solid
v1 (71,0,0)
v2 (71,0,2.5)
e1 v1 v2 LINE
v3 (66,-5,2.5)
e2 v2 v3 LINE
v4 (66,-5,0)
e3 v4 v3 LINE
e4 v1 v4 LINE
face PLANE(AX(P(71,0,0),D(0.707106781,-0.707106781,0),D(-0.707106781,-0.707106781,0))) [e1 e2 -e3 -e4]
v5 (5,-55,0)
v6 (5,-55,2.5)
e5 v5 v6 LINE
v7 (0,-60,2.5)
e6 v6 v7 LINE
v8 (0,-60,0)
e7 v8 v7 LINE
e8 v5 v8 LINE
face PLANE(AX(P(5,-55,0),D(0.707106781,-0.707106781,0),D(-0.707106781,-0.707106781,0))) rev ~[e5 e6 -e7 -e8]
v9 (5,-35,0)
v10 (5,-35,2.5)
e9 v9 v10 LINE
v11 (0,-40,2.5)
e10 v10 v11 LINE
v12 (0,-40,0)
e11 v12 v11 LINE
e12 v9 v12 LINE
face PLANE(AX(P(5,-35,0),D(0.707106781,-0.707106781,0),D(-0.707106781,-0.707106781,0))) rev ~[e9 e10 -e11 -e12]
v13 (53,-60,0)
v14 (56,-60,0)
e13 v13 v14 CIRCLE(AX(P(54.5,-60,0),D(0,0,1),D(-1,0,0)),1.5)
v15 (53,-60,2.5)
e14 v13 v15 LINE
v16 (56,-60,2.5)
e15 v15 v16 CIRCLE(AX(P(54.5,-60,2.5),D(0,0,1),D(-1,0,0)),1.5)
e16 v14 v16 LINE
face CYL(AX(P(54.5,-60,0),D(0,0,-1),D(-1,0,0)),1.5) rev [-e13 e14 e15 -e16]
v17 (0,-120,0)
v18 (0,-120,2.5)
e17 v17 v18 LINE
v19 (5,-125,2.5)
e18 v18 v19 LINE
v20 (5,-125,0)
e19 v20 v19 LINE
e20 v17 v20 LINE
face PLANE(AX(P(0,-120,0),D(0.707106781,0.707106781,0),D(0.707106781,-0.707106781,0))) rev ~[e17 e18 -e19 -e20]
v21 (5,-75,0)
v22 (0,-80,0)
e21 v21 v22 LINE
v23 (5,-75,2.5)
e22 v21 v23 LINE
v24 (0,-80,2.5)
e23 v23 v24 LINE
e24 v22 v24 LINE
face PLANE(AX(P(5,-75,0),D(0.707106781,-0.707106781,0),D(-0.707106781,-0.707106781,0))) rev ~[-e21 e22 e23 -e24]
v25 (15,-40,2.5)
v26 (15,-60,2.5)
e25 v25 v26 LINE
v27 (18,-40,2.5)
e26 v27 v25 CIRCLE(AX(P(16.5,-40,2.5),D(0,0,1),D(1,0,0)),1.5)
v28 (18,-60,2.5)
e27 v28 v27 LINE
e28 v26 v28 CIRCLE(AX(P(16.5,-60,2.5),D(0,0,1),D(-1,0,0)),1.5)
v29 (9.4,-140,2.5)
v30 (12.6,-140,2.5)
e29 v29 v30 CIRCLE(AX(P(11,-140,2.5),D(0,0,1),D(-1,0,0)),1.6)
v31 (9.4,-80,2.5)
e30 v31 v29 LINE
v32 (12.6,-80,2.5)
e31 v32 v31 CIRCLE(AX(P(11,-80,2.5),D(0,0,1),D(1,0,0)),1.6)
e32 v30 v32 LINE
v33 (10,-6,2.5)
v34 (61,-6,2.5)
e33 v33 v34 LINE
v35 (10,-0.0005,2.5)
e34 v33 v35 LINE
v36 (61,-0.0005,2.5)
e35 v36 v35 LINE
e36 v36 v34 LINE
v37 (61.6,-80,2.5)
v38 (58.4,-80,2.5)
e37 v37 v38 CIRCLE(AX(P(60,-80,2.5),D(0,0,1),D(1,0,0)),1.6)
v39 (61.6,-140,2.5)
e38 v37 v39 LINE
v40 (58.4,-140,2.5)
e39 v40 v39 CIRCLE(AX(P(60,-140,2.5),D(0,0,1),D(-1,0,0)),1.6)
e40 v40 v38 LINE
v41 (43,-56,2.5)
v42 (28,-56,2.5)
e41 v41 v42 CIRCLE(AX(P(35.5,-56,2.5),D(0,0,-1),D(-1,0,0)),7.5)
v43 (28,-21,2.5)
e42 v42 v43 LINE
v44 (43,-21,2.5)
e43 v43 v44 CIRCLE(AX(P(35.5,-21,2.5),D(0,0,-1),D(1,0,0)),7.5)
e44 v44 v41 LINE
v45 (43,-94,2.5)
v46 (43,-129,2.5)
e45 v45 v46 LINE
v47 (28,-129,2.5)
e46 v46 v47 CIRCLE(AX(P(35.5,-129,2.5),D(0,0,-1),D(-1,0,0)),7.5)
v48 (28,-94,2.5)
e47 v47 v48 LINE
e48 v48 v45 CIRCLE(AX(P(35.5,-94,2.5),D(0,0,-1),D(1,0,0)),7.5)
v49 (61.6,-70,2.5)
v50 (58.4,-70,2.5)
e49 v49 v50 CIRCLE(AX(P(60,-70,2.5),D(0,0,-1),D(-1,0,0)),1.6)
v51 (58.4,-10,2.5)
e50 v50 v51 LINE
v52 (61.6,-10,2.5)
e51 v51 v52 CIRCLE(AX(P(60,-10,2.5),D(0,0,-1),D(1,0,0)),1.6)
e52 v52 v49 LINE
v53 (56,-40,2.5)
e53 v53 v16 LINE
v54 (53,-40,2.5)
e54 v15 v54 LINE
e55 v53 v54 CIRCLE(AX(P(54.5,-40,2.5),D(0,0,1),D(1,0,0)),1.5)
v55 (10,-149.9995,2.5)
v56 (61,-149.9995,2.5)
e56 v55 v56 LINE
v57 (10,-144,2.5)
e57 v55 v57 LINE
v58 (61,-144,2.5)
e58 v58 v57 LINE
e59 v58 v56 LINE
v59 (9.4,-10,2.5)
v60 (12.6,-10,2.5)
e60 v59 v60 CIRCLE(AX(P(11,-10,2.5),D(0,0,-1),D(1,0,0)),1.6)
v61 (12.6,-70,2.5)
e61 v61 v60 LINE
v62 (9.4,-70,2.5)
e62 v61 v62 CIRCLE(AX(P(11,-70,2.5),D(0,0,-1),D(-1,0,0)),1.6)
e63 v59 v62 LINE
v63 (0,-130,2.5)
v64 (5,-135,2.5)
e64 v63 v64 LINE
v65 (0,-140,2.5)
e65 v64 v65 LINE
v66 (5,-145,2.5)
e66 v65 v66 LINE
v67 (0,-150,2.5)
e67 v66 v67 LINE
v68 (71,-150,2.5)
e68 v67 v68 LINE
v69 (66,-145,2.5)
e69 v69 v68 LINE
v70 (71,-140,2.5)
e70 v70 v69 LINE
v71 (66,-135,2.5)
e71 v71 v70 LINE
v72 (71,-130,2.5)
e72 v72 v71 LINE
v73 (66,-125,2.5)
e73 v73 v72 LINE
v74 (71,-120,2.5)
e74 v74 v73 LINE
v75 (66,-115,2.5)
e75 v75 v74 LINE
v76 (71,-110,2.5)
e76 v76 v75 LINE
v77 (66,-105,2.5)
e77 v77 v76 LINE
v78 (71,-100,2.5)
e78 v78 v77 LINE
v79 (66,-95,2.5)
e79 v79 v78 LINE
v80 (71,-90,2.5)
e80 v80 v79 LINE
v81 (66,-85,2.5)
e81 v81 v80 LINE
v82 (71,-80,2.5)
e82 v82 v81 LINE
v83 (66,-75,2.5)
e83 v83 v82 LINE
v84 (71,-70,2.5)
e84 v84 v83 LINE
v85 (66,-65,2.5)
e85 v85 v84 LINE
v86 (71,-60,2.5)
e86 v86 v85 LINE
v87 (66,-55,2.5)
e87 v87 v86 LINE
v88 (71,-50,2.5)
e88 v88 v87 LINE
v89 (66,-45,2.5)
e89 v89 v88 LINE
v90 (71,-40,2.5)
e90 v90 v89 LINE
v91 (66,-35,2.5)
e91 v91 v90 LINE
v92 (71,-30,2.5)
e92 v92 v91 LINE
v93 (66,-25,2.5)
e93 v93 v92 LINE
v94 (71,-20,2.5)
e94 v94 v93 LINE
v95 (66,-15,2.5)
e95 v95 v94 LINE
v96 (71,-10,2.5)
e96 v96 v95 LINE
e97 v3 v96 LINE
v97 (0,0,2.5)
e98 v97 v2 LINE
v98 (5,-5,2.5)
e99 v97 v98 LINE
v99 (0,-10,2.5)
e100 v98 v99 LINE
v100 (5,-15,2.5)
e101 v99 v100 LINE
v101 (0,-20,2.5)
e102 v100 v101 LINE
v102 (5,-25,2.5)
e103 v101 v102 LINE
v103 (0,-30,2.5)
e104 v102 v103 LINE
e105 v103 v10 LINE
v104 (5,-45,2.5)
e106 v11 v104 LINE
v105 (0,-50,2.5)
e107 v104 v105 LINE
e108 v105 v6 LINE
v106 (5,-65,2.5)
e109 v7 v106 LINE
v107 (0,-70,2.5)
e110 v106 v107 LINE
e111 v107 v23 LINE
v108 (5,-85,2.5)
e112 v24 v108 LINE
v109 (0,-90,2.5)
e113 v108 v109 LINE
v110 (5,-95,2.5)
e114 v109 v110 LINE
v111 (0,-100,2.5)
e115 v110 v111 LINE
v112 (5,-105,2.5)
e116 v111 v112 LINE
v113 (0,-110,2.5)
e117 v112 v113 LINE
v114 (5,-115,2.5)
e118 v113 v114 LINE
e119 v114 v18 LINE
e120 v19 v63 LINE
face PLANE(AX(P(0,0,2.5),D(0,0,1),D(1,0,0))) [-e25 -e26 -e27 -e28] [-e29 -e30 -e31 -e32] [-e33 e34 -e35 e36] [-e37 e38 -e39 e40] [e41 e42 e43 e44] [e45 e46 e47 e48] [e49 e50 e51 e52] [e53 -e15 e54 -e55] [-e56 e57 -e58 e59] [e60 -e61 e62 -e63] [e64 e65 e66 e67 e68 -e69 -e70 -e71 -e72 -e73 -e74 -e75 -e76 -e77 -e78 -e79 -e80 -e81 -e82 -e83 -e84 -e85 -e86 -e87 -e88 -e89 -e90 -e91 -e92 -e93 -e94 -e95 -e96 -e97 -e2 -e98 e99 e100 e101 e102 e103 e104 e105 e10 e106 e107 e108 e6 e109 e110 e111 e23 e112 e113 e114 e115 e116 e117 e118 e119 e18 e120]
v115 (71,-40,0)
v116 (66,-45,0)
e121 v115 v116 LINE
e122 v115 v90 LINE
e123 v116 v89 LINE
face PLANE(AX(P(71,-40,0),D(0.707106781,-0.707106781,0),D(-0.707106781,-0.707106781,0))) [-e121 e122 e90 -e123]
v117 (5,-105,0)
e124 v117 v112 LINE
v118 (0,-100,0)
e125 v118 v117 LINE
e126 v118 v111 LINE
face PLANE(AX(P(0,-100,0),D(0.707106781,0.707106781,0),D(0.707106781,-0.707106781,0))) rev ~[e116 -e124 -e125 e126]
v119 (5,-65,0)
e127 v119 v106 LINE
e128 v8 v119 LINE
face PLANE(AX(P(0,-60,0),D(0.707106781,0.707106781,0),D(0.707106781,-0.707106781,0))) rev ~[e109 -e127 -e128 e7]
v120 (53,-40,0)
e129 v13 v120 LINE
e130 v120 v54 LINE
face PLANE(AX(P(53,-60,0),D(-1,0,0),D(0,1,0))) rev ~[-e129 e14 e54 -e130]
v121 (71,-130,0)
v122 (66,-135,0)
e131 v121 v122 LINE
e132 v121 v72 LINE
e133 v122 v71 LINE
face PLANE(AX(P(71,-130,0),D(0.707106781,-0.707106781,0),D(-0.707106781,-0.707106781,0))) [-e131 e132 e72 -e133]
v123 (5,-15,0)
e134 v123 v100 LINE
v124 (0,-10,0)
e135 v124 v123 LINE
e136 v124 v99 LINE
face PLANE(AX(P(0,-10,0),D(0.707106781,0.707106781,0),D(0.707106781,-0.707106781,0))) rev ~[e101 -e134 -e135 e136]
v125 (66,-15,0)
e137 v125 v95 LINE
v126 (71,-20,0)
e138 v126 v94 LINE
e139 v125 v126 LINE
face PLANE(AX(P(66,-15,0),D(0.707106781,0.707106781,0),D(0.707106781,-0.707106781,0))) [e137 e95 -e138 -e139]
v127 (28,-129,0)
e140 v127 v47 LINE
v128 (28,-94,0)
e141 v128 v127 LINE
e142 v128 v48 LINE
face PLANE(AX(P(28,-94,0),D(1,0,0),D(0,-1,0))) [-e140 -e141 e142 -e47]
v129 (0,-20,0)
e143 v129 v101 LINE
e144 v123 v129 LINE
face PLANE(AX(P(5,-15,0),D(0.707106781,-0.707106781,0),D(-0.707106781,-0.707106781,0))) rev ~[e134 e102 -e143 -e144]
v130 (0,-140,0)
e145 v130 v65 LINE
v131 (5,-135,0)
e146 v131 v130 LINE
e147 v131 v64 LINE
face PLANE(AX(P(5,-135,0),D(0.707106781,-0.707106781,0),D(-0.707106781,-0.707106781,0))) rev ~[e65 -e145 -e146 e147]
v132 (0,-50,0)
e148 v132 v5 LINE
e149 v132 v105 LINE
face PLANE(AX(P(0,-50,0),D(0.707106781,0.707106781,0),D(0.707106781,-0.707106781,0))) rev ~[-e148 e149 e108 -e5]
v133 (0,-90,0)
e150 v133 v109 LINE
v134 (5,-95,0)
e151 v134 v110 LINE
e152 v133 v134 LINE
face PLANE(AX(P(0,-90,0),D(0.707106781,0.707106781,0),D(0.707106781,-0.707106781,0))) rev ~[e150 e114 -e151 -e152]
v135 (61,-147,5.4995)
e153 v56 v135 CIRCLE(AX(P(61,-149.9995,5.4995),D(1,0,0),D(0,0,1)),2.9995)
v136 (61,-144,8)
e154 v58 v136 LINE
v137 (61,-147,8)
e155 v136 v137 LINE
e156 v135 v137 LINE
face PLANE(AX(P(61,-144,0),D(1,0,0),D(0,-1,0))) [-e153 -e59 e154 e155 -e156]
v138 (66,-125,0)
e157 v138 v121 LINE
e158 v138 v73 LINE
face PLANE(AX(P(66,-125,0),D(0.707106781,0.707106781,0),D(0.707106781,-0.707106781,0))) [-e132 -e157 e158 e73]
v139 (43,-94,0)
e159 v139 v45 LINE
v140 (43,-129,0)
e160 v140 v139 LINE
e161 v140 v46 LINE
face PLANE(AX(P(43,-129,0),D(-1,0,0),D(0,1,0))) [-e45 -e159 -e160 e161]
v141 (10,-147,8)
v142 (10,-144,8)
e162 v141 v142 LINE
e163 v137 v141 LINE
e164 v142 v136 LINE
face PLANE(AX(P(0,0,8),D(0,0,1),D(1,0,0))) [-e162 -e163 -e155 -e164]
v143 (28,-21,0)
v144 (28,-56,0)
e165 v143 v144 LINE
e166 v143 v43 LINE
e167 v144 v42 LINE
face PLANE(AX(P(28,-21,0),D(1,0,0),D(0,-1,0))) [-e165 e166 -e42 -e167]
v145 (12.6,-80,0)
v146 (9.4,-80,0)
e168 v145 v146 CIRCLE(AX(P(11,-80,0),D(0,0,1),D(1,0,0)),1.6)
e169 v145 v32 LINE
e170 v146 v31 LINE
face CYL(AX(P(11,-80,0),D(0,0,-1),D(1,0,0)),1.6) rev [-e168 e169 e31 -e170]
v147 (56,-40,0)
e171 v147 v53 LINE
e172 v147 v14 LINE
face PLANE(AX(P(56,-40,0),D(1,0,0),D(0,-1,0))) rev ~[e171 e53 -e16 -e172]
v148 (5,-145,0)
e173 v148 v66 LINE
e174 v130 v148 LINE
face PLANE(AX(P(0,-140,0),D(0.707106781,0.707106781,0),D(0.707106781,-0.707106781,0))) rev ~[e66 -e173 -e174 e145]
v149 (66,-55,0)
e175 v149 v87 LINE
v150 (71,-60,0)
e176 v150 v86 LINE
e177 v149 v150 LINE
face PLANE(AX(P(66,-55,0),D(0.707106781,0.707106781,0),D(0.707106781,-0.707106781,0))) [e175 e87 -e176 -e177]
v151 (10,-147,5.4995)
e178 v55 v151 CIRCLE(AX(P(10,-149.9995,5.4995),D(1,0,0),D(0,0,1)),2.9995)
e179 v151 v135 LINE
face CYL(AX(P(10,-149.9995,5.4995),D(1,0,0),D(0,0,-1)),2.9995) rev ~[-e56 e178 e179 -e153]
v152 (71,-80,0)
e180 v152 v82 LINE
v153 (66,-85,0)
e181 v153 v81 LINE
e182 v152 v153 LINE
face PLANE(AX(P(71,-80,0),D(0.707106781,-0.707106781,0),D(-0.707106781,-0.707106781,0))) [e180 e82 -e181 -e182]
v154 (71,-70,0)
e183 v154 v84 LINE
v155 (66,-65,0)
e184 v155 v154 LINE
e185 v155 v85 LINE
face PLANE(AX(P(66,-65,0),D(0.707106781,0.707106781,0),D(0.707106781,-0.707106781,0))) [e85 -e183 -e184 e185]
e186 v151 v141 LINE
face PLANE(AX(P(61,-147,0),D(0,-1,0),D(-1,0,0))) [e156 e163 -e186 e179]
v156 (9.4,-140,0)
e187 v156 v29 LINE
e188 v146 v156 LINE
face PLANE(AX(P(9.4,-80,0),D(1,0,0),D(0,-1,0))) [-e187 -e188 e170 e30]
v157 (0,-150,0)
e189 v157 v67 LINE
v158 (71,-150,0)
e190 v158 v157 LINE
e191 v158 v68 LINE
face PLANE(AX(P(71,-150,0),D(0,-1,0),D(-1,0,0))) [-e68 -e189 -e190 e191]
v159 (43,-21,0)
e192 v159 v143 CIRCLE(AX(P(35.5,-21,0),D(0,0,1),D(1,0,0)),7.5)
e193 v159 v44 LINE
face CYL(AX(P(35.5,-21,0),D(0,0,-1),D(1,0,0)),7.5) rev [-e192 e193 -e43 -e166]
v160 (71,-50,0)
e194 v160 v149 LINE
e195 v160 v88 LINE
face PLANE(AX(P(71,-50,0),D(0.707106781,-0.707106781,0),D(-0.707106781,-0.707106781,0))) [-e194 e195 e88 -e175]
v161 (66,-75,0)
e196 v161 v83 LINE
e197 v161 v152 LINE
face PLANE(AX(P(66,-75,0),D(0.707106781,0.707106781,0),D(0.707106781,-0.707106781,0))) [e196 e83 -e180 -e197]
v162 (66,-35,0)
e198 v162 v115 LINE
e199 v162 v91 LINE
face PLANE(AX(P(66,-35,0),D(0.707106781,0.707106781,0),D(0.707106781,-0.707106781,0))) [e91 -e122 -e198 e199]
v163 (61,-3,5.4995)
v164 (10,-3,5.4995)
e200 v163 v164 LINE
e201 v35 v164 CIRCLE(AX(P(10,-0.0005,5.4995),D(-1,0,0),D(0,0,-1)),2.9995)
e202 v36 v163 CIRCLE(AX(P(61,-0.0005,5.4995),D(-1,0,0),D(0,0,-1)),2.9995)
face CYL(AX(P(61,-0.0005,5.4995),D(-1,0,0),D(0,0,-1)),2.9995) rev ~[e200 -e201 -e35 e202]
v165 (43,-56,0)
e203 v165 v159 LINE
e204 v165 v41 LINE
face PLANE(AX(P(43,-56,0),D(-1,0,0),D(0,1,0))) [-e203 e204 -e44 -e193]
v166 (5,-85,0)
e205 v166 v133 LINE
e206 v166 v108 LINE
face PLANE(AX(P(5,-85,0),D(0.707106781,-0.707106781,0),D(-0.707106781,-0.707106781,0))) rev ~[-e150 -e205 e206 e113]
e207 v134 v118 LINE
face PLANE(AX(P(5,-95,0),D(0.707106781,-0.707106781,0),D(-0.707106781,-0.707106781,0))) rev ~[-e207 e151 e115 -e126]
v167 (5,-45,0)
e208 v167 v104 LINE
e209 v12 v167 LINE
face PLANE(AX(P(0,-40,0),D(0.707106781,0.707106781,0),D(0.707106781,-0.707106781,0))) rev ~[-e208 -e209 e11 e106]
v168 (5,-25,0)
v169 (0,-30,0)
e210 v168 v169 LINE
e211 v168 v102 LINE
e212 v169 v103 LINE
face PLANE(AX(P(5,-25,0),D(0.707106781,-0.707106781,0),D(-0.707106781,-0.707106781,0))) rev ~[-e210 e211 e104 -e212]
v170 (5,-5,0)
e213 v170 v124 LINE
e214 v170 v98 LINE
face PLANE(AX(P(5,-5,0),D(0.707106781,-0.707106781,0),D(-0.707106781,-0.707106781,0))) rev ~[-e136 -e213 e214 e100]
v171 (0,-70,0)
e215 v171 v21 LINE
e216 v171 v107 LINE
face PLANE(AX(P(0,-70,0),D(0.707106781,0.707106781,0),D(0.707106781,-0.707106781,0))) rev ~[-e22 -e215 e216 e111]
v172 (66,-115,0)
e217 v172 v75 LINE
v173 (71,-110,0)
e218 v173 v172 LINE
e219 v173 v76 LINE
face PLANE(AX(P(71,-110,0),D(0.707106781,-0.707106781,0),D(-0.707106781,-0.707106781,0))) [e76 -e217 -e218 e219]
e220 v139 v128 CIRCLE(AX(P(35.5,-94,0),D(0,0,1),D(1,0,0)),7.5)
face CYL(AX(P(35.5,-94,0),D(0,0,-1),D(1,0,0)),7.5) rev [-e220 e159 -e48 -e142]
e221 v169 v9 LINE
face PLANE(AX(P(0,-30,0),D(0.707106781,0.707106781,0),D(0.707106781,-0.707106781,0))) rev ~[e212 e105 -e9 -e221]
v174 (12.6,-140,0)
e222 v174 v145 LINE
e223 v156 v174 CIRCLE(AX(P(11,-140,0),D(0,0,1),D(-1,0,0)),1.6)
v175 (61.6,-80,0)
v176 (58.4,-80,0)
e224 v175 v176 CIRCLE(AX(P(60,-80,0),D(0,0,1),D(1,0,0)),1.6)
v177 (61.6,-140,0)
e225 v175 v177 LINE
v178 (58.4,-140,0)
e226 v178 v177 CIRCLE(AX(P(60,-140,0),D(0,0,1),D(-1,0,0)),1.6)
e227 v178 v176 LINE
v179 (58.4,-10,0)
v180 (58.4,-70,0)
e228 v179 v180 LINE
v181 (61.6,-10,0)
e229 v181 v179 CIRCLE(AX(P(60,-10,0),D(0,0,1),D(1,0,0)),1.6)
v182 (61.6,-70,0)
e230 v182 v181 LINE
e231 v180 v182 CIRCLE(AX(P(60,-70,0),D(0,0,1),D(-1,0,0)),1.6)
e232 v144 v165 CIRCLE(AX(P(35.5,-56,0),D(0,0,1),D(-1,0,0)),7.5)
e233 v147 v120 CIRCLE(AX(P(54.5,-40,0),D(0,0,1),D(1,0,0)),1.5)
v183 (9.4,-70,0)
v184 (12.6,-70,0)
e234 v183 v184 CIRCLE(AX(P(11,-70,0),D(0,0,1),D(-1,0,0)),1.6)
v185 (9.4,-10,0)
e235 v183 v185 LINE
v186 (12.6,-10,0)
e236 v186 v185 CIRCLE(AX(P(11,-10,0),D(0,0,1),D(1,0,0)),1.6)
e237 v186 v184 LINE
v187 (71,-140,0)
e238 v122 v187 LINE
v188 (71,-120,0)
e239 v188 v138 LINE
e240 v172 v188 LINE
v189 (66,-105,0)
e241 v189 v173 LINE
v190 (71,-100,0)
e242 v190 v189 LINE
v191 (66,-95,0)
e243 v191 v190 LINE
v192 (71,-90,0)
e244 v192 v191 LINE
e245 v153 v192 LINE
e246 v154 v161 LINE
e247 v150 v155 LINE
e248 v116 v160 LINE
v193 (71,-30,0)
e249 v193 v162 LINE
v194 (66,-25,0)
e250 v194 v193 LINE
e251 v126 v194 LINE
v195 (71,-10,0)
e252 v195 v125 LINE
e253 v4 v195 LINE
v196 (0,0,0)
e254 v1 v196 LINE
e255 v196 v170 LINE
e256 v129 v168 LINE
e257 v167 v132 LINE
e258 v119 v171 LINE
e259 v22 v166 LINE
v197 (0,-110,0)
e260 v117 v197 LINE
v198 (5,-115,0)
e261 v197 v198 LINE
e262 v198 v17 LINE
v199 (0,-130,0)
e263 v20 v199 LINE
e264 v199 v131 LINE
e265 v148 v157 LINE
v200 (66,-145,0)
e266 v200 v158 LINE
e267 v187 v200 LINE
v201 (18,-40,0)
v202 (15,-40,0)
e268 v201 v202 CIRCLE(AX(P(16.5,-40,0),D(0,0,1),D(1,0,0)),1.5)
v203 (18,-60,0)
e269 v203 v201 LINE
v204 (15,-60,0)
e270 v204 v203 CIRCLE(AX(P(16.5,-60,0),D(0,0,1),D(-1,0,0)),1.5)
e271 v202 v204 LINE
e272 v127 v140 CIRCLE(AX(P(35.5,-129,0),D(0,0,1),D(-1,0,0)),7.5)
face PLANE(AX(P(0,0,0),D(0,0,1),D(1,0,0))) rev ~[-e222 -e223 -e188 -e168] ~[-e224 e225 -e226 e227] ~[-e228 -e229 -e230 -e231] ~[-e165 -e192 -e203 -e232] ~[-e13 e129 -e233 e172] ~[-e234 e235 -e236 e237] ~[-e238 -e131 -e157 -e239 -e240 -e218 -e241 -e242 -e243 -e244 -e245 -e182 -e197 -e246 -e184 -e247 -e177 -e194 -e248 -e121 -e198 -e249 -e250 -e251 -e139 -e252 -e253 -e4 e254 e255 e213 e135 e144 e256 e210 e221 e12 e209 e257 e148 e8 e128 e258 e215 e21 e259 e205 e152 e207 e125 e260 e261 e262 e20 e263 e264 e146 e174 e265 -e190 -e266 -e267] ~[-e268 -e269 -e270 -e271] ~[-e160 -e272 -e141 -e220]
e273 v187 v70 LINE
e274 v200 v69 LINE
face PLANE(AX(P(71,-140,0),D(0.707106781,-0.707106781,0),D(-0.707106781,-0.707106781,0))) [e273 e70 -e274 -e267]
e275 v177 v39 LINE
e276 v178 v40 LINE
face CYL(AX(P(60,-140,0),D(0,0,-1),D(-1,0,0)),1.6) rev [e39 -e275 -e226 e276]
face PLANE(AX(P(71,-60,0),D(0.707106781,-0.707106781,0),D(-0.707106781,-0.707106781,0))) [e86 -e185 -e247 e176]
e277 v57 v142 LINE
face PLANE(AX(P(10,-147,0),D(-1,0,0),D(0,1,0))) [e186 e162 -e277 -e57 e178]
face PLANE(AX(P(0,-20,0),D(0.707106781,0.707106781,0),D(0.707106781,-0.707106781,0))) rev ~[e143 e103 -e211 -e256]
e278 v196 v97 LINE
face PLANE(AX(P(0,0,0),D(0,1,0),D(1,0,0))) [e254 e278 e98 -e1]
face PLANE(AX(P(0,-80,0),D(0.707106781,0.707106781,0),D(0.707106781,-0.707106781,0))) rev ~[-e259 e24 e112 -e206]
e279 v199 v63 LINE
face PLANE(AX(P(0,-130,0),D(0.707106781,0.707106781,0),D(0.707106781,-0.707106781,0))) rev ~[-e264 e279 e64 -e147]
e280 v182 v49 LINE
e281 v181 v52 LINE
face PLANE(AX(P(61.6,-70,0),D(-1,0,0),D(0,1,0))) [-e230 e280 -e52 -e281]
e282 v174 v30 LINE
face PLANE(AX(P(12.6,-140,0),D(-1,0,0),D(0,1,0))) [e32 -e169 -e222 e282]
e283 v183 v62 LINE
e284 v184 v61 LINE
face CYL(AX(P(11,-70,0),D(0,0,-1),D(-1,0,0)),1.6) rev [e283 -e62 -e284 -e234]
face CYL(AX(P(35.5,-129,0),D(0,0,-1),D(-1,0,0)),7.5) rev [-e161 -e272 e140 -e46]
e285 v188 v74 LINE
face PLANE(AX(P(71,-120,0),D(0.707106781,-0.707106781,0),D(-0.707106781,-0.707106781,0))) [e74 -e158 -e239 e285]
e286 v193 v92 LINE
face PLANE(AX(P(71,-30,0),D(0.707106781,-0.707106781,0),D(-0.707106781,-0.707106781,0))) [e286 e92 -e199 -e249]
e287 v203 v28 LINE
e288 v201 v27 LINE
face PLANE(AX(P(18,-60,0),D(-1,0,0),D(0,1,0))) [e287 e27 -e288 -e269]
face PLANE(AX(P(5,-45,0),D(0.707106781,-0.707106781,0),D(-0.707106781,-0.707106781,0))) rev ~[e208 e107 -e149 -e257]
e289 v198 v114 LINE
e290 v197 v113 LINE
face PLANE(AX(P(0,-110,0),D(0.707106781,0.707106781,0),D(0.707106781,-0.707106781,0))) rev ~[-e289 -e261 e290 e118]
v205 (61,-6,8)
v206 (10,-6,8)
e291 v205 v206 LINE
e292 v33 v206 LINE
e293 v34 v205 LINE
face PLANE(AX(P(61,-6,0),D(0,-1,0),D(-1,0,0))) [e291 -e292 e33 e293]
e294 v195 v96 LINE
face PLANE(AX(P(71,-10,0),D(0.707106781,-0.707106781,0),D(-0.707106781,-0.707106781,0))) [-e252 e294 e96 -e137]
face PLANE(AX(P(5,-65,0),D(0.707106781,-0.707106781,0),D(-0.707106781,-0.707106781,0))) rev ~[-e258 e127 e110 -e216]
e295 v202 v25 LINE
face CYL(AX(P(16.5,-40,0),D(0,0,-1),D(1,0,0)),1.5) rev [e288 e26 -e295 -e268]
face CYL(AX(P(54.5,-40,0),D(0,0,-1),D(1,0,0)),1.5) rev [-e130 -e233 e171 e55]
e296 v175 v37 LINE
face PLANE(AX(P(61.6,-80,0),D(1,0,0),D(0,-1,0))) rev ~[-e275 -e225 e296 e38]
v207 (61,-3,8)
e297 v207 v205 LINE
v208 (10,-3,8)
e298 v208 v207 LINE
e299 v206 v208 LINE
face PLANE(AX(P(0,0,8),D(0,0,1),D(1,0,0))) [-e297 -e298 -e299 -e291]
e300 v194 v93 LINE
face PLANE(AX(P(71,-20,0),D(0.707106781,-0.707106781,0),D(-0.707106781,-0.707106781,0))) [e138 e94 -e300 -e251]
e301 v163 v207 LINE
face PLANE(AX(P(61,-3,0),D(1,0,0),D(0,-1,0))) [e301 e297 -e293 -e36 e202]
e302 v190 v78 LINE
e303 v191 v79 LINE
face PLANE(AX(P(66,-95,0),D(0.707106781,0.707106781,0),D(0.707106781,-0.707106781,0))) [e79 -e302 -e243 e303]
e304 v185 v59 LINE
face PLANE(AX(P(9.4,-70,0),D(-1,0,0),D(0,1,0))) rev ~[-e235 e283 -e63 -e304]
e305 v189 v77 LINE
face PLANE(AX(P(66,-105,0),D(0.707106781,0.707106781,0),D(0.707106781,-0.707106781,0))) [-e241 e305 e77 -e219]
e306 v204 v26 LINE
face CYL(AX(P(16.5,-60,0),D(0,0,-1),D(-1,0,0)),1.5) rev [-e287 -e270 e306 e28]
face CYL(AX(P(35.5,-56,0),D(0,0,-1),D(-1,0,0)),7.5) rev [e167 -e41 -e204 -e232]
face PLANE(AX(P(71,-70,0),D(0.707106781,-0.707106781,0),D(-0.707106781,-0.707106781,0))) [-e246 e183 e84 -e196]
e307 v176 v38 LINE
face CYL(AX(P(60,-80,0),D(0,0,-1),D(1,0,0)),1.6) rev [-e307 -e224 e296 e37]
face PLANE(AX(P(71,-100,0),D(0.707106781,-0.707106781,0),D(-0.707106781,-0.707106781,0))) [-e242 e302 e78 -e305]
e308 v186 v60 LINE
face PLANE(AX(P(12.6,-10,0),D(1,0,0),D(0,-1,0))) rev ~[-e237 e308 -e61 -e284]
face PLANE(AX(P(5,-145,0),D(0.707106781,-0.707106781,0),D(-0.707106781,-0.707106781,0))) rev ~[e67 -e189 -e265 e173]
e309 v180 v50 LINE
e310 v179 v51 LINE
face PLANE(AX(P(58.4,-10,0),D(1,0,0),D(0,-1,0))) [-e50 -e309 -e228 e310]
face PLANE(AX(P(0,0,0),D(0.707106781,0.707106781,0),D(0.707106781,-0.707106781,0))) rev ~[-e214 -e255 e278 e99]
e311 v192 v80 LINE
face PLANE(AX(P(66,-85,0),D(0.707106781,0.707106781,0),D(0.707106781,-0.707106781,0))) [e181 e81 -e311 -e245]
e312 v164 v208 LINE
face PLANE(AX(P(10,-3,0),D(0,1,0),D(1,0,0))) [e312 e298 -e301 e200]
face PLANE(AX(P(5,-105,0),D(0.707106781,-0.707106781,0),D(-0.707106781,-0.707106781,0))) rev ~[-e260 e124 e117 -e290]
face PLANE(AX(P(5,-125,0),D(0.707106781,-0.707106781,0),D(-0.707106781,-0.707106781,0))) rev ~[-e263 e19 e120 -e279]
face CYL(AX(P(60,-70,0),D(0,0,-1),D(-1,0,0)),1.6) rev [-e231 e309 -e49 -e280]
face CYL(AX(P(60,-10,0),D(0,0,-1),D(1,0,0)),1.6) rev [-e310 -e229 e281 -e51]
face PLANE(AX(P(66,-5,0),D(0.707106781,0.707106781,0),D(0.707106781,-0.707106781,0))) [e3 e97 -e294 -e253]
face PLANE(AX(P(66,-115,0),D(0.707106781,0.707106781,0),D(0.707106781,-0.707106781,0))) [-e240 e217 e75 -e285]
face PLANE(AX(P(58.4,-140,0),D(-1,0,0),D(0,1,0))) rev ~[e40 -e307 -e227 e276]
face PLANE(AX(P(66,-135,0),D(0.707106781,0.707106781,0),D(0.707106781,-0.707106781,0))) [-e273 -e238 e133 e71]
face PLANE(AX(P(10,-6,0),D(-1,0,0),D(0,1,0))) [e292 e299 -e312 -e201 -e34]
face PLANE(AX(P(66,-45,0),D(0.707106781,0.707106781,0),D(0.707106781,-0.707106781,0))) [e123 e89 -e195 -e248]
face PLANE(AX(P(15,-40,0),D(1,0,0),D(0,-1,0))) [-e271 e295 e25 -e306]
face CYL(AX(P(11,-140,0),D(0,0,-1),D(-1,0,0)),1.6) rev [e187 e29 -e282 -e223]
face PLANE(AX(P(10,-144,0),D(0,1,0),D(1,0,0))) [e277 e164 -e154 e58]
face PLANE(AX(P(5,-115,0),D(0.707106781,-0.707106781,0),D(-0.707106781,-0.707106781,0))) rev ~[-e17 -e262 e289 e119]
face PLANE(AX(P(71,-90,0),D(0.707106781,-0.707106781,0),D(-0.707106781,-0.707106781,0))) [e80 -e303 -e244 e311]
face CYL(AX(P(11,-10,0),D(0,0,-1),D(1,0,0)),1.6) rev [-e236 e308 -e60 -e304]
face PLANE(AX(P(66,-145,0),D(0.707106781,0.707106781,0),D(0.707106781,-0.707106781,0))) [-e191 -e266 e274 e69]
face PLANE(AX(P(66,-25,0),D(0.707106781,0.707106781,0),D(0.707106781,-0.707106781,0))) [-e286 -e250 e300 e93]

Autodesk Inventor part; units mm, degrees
ref_plane "YZ Plane" through (0, 0, 0) normal (1, 0, 0) x (0, 1, 0)
ref_plane "XZ Plane" through (0, 0, 0) normal (0, 1, 0) x (-1, 0, 0)
ref_plane "XY Plane" through (0, 0, 0) normal (0, 0, 1) x (1, 0, 0)
sketch "Sketch1" plane through (0, 0, 0) normal (0, 0, 1) x (1, 0, 0)
  line L0 (0, 0) -> (71, 0)
  line L1 (71, 0) -> (71, -150)
  line L2 (71, -150) -> (0, -150)
  line L3 (0, -150) -> (0, 0)
  line L4 (7.6868, 0) -> (92.3291, 0)
  line L5 (9.7325, -150) -> (92.3291, -150)
  line L6 (9.7325, -150) -> (11.7224, -150)
  line L7 (0, 0) -> (5, -5)
  line L8 (0, 0) -> (7.0711, 0) construction
  line L9 (5, -5) -> (0, -10)
  line L10 (0, -10) -> (5, -15)
  line L11 (5, -15) -> (0, -20)
  line L12 (0, -20) -> (5, -25)
  line L13 (5, -25) -> (0, -30)
  line L14 (0, -30) -> (5, -35)
  line L15 (5, -35) -> (0, -40)
  line L16 (0, -40) -> (5, -45)
  line L17 (5, -45) -> (0, -50)
  line L18 (0, -50) -> (5, -55)
  line L19 (5, -55) -> (0, -60)
  line L20 (0, -60) -> (5, -65)
  line L21 (5, -65) -> (0, -70)
  line L22 (0, -70) -> (5, -75)
  line L23 (5, -75) -> (0, -80)
  line L24 (0, -80) -> (5, -85)
  line L25 (5, -85) -> (0, -90)
  line L26 (0, -90) -> (5, -95)
  line L27 (5, -95) -> (0, -100)
  line L28 (0, -100) -> (5, -105)
  line L29 (5, -105) -> (0, -110)
  line L30 (0, -110) -> (5, -115)
  line L31 (5, -115) -> (0, -120)
  line L32 (0, -120) -> (5, -125)
  line L33 (5, -125) -> (0, -130)
  line L34 (0, -130) -> (5, -135)
  line L35 (5, -135) -> (0, -140)
  line L36 (35.5, 0) -> (35.5, -140) construction
  line L37 (71, 0) -> (66, -5)
  line L38 (66, -5) -> (71, -10)
  line L39 (71, -10) -> (66, -15)
  line L40 (66, -15) -> (71, -20)
  line L41 (71, -20) -> (66, -25)
  line L42 (66, -25) -> (71, -30)
  line L43 (71, -30) -> (66, -35)
  line L44 (66, -35) -> (71, -40)
  line L45 (71, -40) -> (66, -45)
  line L46 (66, -45) -> (71, -50)
  line L47 (71, -50) -> (66, -55)
  line L48 (66, -55) -> (71, -60)
  line L49 (71, -60) -> (66, -65)
  line L50 (66, -65) -> (71, -70)
  line L51 (71, -70) -> (66, -75)
  line L52 (66, -75) -> (71, -80)
  line L53 (71, -80) -> (66, -85)
  line L54 (66, -85) -> (71, -90)
  line L55 (71, -90) -> (66, -95)
  line L56 (66, -95) -> (71, -100)
  line L57 (71, -100) -> (66, -105)
  line L58 (66, -105) -> (71, -110)
  line L59 (71, -110) -> (66, -115)
  line L60 (66, -115) -> (71, -120)
  line L61 (71, -120) -> (66, -125)
  line L62 (66, -125) -> (71, -130)
  line L63 (71, -130) -> (66, -135)
  line L64 (66, -135) -> (71, -140)
  line L65 (10, -3) -> (61, -3)
  line L66 (61, -3) -> (61, -6)
  line L67 (61, -6) -> (10, -6)
  line L68 (10, -6) -> (10, -3)
  line L69 (10, -144) -> (61, -144)
  line L70 (61, -144) -> (61, -147)
  line L71 (61, -147) -> (10, -147)
  line L72 (10, -147) -> (10, -144)
  line L73 (0, -140) -> (5, -145)
  line L74 (5, -145) -> (0, -150)
  line L75 (66, -5) -> (71, -10)
  line L76 (71, -140) -> (66, -145)
  line L77 (66, -145) -> (71, -150)
  line L78 (11, -80) -> (11, -140) construction
  line L79 (9.4, -80) -> (9.4, -140)
  line L80 (12.6, -140) -> (12.6, -80)
  arc A0 (12.6, -80) -> (9.4, -80) centre (11, -80) ccw
  arc A1 (9.4, -140) -> (12.6, -140) centre (11, -140) ccw
  line L81 (16.5, -40) -> (16.5, -60) construction
  line L82 (15, -40) -> (15, -60)
  line L83 (18, -60) -> (18, -40)
  arc A2 (18, -40) -> (15, -40) centre (16.5, -40) ccw
  arc A3 (15, -60) -> (18, -60) centre (16.5, -60) ccw
  line L84 (54.5, -40) -> (54.5, -60) construction
  line L85 (56, -40) -> (56, -60)
  line L86 (53, -60) -> (53, -40)
  arc A4 (56, -40) -> (53, -40) centre (54.5, -40) ccw
  arc A5 (53, -60) -> (56, -60) centre (54.5, -60) ccw
  line L87 (60, -80) -> (60, -140) construction
  line L88 (61.6, -80) -> (61.6, -140)
  line L89 (58.4, -140) -> (58.4, -80)
  arc A6 (61.6, -80) -> (58.4, -80) centre (60, -80) ccw
  arc A7 (58.4, -140) -> (61.6, -140) centre (60, -140) ccw
  line L90 (35.5, -129) -> (35.5, -94) construction
  line L91 (43, -129) -> (43, -94)
  line L92 (28, -94) -> (28, -129)
  arc A8 (28, -129) -> (43, -129) centre (35.5, -129) ccw
  arc A9 (43, -94) -> (28, -94) centre (35.5, -94) ccw
  line L93 (35.5, -56) -> (35.5, -21) construction
  line L94 (43, -56) -> (43, -21)
  line L95 (28, -21) -> (28, -56)
  arc A10 (28, -56) -> (43, -56) centre (35.5, -56) ccw
  arc A11 (43, -21) -> (28, -21) centre (35.5, -21) ccw
  line L96 (71, -75) -> (0, -75) construction
  line L97 (11, -70) -> (11, -10) construction
  line L98 (9.4, -70) -> (9.4, -10)
  line L99 (12.6, -10) -> (12.6, -70)
  arc A12 (9.4, -70) -> (12.6, -70) centre (11, -70) ccw
  arc A13 (12.6, -10) -> (9.4, -10) centre (11, -10) ccw
  line L100 (61.6, -70) -> (61.6, -10)
  line L101 (58.4, -10) -> (58.4, -70)
  line L102 (60, -70) -> (60, -10) construction
  arc A14 (61.6, -10) -> (58.4, -10) centre (60, -10) ccw
  arc A15 (58.4, -70) -> (61.6, -70) centre (60, -70) ccw
  point P0 (11, -110)
  point P1 (16.5, -50)
  point P2 (54.5, -50)
  point P3 (60, -110)
  point P4 (35.5, -111.5)
  point P5 (35.5, -38.5)
  point P6 (11, -40)
  point P7 (60, -40)
  dimension "d0" = 71
  dimension "d1" = 150
  dimension "d2" = 45
  dimension "d3" = 5
  dimension "d6" = 10
  dimension "d11" = 35.5
  dimension "d12" = 10
  dimension "d13" = 10
  dimension "d14" = 3
  dimension "d15" = 10
  dimension "d16" = 3
  dimension "d17" = 138
  dimension "d19" = 6
  dimension "d20" = 3.2
  dimension "d21" = 11
  dimension "d22" = 10
  dimension "d24" = 51
  dimension "d25" = 3
  dimension "d26" = 4
  dimension "d27" = 40
  dimension "d28" = 20
  dimension "d29" = 35
  dimension "d30" = 41
  dimension "d36" = 35
  dimension "d37" = 15
  dimension "d38" = 15
  dimension "d39" = 35
  dimension "d40" = 15
  dimension "d41" = 15
  dimension "d44" = 60
  dimension "d45" = 75
extrude "Extrusion1" add sketch "Sketch1" along normal blind 2.5 contours L0 L37 L38 L39 L40 L41 L42 L43 L44 L45 L46 L47 L48 L49 L50 L51 L52 L53 L54 L55 L56 L57 L58 L59 L60 L61 L62 L63 L64 L76 L77 L2 L74 L73 L35 L34 L33 L32 L31 L30 L29 L28 L27 L26 L25 L24 L23 L22 L21 L20 L19 L18 L17 L16 L15 L14 L13 L12 L11 L10 L9 L7 | L65 L66 L67 L68 | L69 L70 L71 L72 | A8 L92 A9 L91 | A10 L95 A11 L94 | L98 A13 L99 A12 | A15 L101 A14 L100
extrude "Extrusion2" add sketch "Sketch1" along normal blind 8 contours L65 L66 L67 L68 | L69 L70 L71 L72
fillet "Fillet1" radius 3 2 edges at (35.5, -147, 2.5) (35.5, -3, 2.5)
extrude "Extrusion3" cut sketch "Sketch1" along normal through all contours A8 L92 A9 L91 | A10 L95 A11 L94
extrude "Extrusion4" cut sketch "Sketch1" along normal through all contours L98 A13 L99 A12 | A15 L101 A14 L100
equation "\"d11\" = 0.5 * d0"
equation "\"d13\" = d12"
equation "\"d15\" = d12"
equation "\"d16\" = d14"
equation "\"d19\" = -0.5 * d17 + 0.5 * d1"
equation "\"d45\" = 0.5 * d1"
properties part number "tray"
